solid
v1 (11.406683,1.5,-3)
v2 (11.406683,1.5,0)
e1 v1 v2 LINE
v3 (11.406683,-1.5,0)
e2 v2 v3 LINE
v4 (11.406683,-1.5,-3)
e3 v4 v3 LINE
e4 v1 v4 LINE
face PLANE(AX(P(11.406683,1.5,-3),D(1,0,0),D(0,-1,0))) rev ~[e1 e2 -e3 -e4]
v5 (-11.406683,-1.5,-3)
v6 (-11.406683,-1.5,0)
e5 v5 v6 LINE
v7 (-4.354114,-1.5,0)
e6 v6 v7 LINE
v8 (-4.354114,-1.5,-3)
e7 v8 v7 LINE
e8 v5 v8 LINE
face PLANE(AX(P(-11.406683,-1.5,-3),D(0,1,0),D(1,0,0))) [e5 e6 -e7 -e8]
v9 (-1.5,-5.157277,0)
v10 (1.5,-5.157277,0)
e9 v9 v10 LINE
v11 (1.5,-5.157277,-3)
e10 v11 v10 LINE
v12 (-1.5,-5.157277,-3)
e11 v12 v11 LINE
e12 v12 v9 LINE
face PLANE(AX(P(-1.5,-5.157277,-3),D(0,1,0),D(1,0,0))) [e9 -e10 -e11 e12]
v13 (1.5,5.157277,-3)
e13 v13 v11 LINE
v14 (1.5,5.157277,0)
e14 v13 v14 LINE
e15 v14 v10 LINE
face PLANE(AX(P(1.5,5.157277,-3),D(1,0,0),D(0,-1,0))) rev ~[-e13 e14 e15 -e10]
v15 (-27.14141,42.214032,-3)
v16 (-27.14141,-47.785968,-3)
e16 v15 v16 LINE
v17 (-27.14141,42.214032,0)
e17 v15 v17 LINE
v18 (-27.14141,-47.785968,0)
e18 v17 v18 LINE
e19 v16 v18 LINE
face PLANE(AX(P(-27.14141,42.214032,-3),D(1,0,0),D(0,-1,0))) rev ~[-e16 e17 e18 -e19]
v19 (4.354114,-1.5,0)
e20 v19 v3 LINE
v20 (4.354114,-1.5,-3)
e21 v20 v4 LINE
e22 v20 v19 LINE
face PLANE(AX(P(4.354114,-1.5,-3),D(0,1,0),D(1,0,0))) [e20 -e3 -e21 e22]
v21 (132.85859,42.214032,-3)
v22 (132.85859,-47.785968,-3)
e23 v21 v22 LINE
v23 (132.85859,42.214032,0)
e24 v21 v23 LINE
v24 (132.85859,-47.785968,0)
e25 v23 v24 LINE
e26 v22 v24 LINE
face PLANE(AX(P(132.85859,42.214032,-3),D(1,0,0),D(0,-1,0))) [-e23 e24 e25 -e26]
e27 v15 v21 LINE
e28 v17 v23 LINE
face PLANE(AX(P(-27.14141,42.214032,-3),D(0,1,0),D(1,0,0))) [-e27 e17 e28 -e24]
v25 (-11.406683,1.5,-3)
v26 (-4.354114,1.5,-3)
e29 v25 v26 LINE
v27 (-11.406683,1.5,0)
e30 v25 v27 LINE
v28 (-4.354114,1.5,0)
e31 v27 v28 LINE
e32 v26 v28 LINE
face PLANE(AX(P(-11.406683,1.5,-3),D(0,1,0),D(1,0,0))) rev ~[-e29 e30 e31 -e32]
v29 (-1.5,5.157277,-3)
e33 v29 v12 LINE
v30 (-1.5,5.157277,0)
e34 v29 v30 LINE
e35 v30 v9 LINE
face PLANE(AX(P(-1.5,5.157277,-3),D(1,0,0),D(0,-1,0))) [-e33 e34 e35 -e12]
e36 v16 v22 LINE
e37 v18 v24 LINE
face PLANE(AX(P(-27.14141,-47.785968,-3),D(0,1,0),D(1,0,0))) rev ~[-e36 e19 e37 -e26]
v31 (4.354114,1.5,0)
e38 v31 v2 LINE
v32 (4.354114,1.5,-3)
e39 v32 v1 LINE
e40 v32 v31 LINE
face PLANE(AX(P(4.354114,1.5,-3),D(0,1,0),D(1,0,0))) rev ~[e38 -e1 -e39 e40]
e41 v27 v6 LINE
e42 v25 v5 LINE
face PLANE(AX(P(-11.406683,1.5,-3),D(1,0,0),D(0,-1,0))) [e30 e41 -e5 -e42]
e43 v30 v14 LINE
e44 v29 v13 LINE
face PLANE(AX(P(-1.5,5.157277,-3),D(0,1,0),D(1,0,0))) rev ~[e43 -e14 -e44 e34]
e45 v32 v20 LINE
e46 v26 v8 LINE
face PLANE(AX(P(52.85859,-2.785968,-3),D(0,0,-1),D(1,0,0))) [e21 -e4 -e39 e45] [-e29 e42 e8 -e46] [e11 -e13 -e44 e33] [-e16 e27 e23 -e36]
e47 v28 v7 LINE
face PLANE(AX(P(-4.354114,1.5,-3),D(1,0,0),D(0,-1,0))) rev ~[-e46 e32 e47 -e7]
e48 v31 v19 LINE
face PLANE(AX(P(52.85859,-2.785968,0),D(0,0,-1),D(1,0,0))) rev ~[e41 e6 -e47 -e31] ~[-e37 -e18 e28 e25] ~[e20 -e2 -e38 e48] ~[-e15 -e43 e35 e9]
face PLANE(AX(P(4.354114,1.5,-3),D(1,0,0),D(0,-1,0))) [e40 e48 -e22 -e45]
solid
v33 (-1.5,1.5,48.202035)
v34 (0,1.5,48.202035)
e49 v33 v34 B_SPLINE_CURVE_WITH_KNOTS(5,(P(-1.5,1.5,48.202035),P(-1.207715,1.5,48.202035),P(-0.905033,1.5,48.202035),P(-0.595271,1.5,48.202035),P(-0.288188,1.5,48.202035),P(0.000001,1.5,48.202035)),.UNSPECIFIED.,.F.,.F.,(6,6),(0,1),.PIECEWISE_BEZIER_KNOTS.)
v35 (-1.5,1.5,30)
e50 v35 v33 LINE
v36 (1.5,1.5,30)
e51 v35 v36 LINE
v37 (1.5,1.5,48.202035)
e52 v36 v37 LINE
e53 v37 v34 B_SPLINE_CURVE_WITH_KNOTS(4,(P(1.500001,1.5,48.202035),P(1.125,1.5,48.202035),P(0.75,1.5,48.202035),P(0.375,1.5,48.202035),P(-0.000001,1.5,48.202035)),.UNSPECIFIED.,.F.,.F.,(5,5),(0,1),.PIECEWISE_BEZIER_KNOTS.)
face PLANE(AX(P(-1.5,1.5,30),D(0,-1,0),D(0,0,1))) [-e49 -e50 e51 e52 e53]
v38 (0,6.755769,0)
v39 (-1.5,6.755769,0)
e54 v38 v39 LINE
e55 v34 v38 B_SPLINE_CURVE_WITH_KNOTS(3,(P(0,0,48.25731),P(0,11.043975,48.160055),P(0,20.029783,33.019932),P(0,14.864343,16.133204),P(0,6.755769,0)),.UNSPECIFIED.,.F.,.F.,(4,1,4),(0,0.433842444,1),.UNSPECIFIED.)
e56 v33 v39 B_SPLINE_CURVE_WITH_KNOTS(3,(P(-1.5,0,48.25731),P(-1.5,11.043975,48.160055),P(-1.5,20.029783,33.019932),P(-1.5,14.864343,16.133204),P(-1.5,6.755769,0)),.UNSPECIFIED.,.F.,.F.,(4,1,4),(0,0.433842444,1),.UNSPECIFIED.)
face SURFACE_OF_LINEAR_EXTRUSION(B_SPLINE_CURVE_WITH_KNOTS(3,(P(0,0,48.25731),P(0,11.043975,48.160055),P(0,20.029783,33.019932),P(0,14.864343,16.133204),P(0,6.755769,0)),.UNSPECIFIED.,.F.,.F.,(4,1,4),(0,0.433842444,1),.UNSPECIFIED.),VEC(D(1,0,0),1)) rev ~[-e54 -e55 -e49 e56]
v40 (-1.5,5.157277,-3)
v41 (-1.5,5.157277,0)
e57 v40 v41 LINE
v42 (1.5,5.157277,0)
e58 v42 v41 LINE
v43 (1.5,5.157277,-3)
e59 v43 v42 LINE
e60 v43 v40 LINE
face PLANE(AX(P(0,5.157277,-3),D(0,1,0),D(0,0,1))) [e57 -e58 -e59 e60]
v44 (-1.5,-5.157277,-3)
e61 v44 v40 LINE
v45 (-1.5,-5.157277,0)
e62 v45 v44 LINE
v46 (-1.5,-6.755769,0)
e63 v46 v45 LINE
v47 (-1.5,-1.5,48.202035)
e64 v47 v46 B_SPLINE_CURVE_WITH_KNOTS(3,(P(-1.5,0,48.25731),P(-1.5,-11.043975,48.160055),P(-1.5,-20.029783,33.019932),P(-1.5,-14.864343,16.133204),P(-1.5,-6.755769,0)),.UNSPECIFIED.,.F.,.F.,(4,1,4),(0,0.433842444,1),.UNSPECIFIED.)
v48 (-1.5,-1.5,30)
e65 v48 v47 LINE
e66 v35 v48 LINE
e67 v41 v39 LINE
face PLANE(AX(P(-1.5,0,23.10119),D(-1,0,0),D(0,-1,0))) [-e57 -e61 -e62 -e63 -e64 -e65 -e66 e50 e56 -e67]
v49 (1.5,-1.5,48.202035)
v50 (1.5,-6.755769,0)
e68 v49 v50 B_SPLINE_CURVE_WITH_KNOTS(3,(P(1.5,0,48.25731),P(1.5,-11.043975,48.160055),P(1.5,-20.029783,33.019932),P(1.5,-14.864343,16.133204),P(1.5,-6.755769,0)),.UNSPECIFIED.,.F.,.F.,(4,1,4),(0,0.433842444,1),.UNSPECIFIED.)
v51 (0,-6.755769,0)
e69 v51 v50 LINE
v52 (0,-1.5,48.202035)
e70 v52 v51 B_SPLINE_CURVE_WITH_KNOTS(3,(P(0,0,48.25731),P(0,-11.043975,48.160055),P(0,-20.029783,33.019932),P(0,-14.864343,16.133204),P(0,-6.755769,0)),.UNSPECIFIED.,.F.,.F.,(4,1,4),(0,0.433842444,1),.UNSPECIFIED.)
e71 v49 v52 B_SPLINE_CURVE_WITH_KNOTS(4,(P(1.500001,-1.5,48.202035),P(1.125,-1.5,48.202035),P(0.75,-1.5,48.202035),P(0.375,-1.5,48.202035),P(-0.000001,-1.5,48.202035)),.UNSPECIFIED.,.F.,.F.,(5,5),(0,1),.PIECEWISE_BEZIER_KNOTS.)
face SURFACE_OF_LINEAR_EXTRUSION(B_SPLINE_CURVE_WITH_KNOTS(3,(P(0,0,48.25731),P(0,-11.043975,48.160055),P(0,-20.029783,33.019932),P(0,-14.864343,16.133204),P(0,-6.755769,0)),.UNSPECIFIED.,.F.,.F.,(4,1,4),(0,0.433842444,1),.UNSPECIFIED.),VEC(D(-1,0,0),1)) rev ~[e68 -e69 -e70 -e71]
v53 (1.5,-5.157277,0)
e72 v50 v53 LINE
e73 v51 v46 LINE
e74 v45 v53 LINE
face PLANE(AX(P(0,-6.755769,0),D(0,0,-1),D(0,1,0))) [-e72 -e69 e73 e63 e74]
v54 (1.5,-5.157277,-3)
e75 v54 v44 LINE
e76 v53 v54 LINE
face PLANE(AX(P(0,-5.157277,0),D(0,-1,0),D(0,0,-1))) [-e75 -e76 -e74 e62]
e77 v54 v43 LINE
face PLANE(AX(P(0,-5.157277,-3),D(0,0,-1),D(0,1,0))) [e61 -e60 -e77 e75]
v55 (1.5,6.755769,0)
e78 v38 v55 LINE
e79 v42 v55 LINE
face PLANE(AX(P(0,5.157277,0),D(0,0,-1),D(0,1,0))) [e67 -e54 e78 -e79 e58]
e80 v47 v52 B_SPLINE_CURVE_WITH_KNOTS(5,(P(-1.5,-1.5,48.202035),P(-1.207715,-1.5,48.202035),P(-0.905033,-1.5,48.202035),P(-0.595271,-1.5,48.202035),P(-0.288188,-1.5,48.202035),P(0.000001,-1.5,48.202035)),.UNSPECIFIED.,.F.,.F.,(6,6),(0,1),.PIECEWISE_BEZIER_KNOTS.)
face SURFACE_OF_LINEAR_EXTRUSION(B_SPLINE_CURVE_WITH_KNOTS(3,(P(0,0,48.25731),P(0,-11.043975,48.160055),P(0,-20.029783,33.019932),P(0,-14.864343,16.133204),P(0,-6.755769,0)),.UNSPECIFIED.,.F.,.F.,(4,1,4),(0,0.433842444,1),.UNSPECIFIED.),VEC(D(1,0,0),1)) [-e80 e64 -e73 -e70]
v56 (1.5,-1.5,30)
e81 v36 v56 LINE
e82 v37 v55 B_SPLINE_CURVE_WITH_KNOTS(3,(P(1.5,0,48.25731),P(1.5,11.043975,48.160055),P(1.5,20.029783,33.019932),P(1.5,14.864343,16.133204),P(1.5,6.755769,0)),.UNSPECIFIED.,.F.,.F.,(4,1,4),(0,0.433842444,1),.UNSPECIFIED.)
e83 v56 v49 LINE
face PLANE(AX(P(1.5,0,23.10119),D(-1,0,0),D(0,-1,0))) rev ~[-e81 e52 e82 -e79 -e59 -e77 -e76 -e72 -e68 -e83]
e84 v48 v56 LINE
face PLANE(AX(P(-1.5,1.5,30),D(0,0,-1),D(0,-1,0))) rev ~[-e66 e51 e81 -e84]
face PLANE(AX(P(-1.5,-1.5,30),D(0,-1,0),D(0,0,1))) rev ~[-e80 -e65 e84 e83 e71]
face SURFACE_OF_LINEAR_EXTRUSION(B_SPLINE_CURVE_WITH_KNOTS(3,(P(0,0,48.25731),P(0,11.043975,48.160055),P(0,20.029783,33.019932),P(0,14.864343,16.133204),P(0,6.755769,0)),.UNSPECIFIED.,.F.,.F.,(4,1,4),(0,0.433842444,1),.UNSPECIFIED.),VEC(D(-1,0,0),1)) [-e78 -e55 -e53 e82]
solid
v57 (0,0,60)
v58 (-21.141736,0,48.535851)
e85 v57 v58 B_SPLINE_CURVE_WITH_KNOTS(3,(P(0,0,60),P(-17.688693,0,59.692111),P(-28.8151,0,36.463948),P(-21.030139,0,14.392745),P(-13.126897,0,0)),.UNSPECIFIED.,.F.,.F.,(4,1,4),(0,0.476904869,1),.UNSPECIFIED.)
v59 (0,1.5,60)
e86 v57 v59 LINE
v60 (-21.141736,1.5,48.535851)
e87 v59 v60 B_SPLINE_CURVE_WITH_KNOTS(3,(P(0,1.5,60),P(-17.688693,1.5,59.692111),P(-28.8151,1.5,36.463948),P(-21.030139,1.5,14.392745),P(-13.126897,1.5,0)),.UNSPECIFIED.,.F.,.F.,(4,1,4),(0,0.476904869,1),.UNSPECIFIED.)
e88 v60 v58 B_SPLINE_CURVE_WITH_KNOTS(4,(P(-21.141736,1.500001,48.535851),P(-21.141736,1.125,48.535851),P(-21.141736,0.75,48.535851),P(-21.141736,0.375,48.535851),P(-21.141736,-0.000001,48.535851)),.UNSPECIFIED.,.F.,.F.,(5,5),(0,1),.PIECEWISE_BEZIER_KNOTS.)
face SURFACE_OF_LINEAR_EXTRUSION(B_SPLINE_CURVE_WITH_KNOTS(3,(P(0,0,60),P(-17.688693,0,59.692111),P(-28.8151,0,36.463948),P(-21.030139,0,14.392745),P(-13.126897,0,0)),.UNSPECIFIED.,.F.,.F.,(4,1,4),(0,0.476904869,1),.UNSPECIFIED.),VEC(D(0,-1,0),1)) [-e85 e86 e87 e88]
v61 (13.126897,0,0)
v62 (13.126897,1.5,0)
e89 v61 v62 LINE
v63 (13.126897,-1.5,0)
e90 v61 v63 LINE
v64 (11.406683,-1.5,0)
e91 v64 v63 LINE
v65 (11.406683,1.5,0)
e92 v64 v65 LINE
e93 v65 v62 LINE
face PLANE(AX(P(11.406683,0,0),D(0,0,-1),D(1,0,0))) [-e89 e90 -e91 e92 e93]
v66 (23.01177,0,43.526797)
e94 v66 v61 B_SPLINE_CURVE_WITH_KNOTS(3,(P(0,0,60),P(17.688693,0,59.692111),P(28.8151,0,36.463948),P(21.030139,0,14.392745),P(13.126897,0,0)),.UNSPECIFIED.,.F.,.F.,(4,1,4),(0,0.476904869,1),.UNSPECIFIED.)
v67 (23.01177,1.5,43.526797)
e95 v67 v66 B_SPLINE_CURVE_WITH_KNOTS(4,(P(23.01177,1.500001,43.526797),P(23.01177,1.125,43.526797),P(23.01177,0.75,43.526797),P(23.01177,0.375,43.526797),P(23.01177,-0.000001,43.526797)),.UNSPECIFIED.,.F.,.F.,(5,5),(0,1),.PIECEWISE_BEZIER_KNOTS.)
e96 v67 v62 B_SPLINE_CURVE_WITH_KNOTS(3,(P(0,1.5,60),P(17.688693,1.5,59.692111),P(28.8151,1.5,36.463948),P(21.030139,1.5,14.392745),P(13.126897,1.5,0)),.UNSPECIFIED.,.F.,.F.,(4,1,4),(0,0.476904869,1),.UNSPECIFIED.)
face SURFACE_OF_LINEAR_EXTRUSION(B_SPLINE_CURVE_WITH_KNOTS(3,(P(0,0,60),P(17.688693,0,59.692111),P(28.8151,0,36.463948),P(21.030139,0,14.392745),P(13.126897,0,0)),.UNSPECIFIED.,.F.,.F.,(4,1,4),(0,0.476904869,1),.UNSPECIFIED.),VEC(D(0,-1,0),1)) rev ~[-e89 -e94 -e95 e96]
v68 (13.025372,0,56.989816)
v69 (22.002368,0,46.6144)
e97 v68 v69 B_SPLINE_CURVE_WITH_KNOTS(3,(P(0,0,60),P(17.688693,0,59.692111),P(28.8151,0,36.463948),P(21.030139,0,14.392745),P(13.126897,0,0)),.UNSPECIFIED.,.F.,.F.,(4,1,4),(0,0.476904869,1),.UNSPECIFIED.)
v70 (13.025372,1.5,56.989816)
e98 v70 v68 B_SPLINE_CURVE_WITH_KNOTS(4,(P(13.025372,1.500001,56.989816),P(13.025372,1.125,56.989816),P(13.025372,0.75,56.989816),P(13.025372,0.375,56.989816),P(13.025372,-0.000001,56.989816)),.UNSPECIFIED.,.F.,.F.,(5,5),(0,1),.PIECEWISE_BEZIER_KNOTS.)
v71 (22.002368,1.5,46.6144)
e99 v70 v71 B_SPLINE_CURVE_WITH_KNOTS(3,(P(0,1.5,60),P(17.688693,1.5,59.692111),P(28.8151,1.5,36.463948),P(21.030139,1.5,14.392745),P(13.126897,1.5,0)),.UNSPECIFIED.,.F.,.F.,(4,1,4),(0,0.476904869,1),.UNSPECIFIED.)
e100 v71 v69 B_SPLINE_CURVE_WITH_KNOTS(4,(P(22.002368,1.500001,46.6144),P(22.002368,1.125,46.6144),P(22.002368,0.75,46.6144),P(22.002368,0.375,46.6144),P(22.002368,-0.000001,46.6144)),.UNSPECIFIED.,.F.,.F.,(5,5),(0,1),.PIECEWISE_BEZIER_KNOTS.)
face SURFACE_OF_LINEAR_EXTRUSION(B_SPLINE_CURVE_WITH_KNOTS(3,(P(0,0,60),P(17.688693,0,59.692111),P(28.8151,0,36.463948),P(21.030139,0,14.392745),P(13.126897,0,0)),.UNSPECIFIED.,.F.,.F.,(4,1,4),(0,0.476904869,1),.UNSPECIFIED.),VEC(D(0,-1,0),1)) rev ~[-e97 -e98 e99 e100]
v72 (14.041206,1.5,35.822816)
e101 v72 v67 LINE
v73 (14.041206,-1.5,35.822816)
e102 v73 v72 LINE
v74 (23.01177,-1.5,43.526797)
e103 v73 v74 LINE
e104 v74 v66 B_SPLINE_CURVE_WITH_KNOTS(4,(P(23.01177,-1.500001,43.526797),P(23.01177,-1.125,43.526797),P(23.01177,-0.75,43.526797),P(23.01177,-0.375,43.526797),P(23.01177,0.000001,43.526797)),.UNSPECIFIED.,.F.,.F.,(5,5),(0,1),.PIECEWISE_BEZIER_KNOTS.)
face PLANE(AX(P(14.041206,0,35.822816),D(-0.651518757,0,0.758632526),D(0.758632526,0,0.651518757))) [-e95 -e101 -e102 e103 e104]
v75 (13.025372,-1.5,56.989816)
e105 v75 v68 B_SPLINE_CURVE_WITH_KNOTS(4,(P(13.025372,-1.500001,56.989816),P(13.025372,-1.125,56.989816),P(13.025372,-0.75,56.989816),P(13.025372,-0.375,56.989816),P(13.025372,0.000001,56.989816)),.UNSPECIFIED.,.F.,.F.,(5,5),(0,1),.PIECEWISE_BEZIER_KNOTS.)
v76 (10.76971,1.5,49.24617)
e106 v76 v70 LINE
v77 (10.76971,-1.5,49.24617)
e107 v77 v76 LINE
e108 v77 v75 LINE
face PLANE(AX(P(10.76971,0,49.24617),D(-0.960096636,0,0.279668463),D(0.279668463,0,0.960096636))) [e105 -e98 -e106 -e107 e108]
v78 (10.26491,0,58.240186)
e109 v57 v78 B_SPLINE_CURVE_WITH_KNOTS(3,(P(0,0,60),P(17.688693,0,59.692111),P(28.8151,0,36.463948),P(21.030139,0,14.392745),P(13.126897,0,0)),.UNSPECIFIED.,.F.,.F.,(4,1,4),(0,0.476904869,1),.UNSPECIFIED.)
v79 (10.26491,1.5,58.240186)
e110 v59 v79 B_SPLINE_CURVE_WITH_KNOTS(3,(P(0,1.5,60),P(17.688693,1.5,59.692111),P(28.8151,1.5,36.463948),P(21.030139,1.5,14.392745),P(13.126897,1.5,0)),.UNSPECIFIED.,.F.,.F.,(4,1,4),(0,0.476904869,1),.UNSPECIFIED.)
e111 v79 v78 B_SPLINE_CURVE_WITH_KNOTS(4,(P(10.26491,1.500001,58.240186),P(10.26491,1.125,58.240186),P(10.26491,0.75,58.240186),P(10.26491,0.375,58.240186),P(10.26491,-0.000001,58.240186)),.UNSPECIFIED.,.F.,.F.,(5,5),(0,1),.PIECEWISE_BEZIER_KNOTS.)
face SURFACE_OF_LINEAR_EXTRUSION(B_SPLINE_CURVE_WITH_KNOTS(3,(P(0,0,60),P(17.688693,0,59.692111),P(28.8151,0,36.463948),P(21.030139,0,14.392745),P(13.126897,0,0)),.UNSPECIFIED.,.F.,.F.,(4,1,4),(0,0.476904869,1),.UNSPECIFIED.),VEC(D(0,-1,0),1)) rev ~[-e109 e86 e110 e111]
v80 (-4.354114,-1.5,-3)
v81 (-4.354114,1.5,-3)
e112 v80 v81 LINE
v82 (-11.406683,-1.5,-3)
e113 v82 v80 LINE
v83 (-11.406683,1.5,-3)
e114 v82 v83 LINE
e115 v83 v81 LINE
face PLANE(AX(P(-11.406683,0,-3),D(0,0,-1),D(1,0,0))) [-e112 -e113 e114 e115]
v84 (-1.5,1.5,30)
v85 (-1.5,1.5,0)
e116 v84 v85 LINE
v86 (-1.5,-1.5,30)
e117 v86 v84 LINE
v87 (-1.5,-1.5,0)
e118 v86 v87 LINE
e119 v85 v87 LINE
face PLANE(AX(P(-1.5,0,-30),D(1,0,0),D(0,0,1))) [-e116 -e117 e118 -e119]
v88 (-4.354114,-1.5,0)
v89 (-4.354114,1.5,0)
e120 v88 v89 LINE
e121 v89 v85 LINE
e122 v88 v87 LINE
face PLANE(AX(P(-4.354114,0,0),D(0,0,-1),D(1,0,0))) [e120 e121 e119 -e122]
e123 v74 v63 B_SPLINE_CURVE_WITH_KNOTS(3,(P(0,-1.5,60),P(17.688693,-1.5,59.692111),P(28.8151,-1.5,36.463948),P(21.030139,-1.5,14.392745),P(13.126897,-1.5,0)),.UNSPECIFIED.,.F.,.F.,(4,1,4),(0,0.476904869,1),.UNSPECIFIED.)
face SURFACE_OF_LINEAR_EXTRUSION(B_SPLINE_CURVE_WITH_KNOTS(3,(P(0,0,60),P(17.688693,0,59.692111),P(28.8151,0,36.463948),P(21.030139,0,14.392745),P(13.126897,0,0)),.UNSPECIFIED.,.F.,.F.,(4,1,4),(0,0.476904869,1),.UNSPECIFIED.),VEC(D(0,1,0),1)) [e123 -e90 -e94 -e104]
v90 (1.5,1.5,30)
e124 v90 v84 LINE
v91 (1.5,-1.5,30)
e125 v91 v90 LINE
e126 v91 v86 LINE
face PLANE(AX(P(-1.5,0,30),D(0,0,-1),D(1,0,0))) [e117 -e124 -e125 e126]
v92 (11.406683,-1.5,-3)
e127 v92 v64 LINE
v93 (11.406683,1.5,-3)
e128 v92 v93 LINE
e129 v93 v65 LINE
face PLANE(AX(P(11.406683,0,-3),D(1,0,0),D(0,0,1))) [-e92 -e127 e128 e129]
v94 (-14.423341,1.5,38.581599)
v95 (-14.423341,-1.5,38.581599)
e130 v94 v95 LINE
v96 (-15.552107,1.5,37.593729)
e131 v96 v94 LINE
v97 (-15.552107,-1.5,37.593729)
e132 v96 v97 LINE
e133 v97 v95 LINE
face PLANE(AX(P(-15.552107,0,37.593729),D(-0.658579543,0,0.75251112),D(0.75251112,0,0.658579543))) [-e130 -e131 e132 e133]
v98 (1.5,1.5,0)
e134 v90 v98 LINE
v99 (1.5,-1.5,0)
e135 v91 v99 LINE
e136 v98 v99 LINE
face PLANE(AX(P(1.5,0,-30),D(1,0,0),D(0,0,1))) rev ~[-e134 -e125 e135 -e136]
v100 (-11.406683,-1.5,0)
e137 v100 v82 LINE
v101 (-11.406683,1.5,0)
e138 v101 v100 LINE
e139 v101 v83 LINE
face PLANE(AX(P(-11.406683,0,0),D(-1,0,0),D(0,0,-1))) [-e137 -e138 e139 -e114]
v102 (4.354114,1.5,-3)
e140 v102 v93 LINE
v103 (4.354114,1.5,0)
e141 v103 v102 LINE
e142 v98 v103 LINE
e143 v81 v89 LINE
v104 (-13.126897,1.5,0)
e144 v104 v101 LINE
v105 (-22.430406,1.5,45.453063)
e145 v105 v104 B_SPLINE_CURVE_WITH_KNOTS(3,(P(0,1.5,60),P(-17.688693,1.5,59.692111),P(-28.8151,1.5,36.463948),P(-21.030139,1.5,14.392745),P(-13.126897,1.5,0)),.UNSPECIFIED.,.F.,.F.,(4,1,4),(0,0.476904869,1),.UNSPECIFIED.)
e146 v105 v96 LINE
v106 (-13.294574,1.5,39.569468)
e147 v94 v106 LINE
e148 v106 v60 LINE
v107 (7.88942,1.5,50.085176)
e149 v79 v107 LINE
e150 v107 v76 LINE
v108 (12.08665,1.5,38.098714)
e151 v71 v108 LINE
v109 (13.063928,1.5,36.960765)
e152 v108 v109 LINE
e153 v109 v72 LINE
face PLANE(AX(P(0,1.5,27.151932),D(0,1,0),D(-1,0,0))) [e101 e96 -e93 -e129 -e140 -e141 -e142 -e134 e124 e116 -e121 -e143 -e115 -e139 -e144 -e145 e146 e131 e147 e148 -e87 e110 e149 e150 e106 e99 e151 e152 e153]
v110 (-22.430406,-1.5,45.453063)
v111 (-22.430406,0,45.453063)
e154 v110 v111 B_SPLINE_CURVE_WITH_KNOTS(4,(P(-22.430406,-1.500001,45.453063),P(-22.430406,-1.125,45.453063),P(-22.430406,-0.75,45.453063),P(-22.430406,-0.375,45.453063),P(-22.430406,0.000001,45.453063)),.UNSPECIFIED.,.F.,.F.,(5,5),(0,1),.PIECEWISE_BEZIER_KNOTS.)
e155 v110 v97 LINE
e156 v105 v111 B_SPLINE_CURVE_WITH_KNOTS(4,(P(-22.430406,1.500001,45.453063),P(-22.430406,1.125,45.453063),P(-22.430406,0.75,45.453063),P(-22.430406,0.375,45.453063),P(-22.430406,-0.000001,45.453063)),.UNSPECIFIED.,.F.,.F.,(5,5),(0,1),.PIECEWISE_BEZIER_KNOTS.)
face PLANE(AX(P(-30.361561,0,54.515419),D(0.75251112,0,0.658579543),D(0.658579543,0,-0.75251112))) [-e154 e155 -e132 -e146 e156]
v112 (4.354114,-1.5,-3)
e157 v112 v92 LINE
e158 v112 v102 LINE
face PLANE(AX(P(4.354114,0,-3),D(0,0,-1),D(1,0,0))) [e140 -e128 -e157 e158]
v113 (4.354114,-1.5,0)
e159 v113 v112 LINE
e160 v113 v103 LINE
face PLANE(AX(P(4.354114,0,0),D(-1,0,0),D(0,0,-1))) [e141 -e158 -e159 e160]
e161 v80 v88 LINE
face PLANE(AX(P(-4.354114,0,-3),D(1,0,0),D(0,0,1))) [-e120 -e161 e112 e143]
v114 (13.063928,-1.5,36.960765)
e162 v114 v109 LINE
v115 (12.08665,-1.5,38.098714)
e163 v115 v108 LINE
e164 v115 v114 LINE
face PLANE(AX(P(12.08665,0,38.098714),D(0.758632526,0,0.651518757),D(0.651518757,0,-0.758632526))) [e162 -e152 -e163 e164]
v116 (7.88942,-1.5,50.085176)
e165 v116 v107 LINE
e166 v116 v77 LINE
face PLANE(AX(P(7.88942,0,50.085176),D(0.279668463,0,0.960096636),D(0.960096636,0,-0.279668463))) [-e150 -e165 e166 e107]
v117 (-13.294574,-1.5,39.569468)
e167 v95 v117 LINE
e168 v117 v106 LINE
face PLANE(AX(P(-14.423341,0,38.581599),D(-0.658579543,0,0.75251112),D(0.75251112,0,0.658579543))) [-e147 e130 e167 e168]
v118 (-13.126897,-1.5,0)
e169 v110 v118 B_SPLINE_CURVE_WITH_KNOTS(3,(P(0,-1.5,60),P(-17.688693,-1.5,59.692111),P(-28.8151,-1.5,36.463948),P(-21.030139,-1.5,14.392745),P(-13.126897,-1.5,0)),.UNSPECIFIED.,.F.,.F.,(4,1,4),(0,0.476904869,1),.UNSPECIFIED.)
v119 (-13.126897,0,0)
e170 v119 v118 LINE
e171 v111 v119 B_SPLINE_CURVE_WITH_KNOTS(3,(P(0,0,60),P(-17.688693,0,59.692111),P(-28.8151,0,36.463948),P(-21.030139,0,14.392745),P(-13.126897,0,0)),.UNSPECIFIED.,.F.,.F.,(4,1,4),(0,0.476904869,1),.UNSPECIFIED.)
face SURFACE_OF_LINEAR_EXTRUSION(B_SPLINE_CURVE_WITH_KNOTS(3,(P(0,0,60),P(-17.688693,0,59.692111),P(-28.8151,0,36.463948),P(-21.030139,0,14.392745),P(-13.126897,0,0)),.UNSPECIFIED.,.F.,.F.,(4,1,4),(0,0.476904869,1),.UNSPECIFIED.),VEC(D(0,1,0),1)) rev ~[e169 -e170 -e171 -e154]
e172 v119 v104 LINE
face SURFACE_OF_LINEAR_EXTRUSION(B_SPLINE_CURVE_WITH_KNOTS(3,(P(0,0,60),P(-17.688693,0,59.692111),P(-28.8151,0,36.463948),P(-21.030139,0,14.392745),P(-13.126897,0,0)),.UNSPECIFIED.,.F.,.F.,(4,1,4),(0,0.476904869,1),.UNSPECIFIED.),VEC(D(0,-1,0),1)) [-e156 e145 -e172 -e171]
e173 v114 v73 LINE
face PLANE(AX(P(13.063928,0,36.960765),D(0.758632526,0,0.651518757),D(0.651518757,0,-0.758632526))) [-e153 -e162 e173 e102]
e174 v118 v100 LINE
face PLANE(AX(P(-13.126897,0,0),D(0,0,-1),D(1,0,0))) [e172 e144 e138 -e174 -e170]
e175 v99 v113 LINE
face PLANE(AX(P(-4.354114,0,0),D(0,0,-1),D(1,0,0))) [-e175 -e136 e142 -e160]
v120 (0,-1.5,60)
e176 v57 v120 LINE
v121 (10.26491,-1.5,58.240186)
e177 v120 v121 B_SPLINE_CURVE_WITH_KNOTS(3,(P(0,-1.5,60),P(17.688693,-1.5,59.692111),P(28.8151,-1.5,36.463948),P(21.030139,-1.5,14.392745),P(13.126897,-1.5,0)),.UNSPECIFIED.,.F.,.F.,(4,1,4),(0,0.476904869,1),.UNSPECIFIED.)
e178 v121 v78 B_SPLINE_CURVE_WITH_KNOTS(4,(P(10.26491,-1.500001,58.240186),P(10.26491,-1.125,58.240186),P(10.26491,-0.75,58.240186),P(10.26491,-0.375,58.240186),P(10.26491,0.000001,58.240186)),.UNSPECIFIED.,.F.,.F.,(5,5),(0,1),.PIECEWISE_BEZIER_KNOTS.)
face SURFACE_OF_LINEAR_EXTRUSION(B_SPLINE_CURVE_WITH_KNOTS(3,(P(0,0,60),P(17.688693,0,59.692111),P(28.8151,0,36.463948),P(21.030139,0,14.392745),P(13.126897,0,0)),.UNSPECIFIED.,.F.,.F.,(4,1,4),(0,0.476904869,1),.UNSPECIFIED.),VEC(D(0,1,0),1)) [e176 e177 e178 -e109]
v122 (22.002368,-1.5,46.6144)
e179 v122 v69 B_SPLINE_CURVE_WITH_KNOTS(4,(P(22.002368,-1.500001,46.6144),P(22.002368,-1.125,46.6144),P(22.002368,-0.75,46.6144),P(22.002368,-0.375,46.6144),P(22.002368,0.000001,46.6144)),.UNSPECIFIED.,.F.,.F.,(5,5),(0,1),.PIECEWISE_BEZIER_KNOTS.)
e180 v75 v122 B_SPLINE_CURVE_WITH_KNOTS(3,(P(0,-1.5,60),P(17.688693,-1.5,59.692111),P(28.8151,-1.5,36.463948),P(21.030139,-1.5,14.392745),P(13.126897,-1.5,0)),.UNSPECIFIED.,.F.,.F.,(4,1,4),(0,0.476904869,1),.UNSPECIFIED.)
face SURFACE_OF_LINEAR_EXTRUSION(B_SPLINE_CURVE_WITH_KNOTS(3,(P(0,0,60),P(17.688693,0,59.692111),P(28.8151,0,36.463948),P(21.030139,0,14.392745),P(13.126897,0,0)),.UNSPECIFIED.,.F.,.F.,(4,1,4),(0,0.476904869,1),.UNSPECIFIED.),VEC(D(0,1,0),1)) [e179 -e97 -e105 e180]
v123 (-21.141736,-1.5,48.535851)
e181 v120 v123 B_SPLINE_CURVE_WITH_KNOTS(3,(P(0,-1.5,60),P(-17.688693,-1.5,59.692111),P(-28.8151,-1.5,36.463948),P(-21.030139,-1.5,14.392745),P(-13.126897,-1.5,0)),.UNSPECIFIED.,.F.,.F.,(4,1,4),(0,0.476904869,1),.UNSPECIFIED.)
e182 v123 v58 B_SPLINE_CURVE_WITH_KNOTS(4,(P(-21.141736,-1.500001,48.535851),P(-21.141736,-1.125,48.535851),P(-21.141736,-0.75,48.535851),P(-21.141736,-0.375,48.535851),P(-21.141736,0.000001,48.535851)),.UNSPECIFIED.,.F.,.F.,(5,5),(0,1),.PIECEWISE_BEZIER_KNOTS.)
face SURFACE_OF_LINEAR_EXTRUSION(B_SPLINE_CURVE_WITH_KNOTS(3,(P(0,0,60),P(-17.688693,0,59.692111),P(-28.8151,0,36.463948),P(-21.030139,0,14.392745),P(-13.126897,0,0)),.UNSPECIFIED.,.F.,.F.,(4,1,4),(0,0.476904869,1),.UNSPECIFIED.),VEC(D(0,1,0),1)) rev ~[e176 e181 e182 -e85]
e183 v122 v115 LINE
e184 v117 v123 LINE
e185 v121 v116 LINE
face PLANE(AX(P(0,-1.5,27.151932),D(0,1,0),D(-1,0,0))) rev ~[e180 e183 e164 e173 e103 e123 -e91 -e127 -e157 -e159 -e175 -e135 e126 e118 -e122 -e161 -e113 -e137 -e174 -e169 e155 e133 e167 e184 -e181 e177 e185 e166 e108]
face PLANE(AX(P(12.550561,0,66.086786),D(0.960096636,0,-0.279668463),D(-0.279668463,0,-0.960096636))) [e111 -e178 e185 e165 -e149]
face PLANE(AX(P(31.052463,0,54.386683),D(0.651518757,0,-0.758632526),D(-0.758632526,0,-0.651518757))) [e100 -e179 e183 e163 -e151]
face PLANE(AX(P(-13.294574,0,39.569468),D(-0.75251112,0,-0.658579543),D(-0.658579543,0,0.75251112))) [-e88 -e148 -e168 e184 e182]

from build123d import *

# Parameters (mm, degrees)
F2_DEPTH  = 1.5
F3_W      = 3
F3_H      = 60
F4_DEPTH  = 12.5
F6_DEPTH  = 1.5
F7_W      = 3
F7_H      = 118.8950859686
F8_DEPTH  = 25.6788023262
F9_W      = 160
F9_H      = 90
F9_W_2    = 7.0525689516
F9_H_2    = 3
F9_W_3    = 3
F9_H_3    = 10.3145539761
F10_DEPTH = 3


with BuildPart() as f2:
    # F1 (on Front) → F2 (new body, symmetric)
    with BuildSketch(Plane.XZ):
        with BuildLine():
            add(Edge.make_bspline(
                [(0, 60), (17.6886934787, 59.6921108663), (28.8150999704, 36.4639480961), (21.0301392591, 14.3927453736), (13.1268969518, 0)],
                knots=[0, 0, 0, 0, 0.4769048689, 1, 1, 1, 1], degree=3))
            add(Edge.make_bspline(
                [(0, 60), (-17.6886934787, 59.6921108663), (-28.8150999704, 36.4639480961), (-21.0301392591, 14.3927453736), (-13.1268969518, 0)],
                knots=[0, 0, 0, 0, 0.4769048689, 1, 1, 1, 1], degree=3))
            Line((-13.1268969518, 0), (-11.4066828974, 0))
            Line((-11.4066828974, 0), (-11.4066828974, -3))
            Line((-11.4066828974, -3), (-4.3541139457, -3))
            Line((-4.3541139457, -3), (-4.3541139457, 0))
            Line((-4.3541139457, 0), (-1.3768739169, 0))
            Line((-1.3768739169, 0), (1.6231260831, 0))
            Line((1.6231260831, 0), (4.3541139457, 0))
            Line((4.3541139457, 0), (4.3541139457, -3))
            Line((4.3541139457, -3), (11.4066828974, -3))
            Line((11.4066828974, -3), (11.4066828974, 0))
            Line((11.4066828974, 0), (13.1268969518, 0))
        make_face()
    extrude(amount=F2_DEPTH, both=True)

    # F3 (on Front) → F4 (cut, symmetric)
    with BuildSketch(Plane.XZ):
        Polygon((-29.232794809, 55.5032887742), (-30.3615614893, 54.5154194603), (-15.5521072394, 37.5937292362), (-14.423340559, 38.5815985501), (-13.2945738787, 39.569467864), (-28.1040281286, 56.4911580881), align=None)
        Polygon((9.3295652531, 49.6656731565), (10.7697102072, 49.2461704614), (15.4308512639, 65.2477810624), (13.9907063099, 65.6672837575), (12.5505613558, 66.0867864526), (7.889420299, 50.0851758516), align=None)
        Polygon((14.0412059324, 35.8228163902), (33.0070190747, 52.1107853198), (32.0297409389, 53.2487341083), (31.0524628031, 54.3866828969), (12.0866496609, 38.0987139673), (13.0639277966, 36.9607651787), align=None)
        Rectangle(F3_W, F3_H)
    extrude(amount=F4_DEPTH, both=True, mode=Mode.SUBTRACT)


with BuildPart() as f6:
    # F5 (on Right) → F6 (new body, symmetric)
    with BuildSketch(Plane.YZ):
        with BuildLine():
            add(Edge.make_bspline(
                [(0, 48.2573099434), (11.0439748989, 48.1600549317), (20.0297831515, 33.0199316806), (14.8643427644, 16.1332041346), (6.7557687632, 0)],
                knots=[0, 0, 0, 0, 0.4338424438, 1, 1, 1, 1], degree=3))
            add(Edge.make_bspline(
                [(0, 48.2573099434), (-11.0439748989, 48.1600549317), (-20.0297831515, 33.0199316806), (-14.8643427644, 16.1332041346), (-6.7557687632, 0)],
                knots=[0, 0, 0, 0, 0.4338424438, 1, 1, 1, 1], degree=3))
            Line((-6.7557687632, 0), (-5.157276988, 0))
            Line((-5.157276988, 0), (-5.157276988, -3))
            Line((-5.157276988, -3), (5.157276988, -3))
            Line((5.157276988, -3), (5.157276988, 0))
            Line((5.157276988, 0), (6.7557687632, 0))
        make_face()
    extrude(amount=F6_DEPTH, both=True)

    # F7 (on face) → F8 (cut, through all)
    with BuildSketch(Plane(origin=(-1.5, 0, 0), x_dir=(0, -1, 0), z_dir=(-1, 0, 0))):
        with Locations((0, 89.4475429843)):
            Rectangle(F7_W, F7_H)
    extrude(amount=-F8_DEPTH, mode=Mode.SUBTRACT)


with BuildPart() as f10:
    # F9 (on face) → F10 (new body)
    with BuildSketch(Plane(origin=(0, 0, -3), x_dir=(1, 0, 0), z_dir=(0, 0, -1))):
        with Locations((52.8585895896, 2.7859684825)):
            Rectangle(F9_W, F9_H)
        with Locations((-7.8803984215, 0)):
            Rectangle(F9_W_2, F9_H_2, mode=Mode.SUBTRACT)
        Rectangle(F9_W_3, F9_H_3, mode=Mode.SUBTRACT)
        with Locations((7.8803984215, 0)):
            Rectangle(F9_W_2, F9_H_2, mode=Mode.SUBTRACT)
    extrude(amount=-F10_DEPTH)


solid = Compound([f2.part, f6.part, f10.part])
